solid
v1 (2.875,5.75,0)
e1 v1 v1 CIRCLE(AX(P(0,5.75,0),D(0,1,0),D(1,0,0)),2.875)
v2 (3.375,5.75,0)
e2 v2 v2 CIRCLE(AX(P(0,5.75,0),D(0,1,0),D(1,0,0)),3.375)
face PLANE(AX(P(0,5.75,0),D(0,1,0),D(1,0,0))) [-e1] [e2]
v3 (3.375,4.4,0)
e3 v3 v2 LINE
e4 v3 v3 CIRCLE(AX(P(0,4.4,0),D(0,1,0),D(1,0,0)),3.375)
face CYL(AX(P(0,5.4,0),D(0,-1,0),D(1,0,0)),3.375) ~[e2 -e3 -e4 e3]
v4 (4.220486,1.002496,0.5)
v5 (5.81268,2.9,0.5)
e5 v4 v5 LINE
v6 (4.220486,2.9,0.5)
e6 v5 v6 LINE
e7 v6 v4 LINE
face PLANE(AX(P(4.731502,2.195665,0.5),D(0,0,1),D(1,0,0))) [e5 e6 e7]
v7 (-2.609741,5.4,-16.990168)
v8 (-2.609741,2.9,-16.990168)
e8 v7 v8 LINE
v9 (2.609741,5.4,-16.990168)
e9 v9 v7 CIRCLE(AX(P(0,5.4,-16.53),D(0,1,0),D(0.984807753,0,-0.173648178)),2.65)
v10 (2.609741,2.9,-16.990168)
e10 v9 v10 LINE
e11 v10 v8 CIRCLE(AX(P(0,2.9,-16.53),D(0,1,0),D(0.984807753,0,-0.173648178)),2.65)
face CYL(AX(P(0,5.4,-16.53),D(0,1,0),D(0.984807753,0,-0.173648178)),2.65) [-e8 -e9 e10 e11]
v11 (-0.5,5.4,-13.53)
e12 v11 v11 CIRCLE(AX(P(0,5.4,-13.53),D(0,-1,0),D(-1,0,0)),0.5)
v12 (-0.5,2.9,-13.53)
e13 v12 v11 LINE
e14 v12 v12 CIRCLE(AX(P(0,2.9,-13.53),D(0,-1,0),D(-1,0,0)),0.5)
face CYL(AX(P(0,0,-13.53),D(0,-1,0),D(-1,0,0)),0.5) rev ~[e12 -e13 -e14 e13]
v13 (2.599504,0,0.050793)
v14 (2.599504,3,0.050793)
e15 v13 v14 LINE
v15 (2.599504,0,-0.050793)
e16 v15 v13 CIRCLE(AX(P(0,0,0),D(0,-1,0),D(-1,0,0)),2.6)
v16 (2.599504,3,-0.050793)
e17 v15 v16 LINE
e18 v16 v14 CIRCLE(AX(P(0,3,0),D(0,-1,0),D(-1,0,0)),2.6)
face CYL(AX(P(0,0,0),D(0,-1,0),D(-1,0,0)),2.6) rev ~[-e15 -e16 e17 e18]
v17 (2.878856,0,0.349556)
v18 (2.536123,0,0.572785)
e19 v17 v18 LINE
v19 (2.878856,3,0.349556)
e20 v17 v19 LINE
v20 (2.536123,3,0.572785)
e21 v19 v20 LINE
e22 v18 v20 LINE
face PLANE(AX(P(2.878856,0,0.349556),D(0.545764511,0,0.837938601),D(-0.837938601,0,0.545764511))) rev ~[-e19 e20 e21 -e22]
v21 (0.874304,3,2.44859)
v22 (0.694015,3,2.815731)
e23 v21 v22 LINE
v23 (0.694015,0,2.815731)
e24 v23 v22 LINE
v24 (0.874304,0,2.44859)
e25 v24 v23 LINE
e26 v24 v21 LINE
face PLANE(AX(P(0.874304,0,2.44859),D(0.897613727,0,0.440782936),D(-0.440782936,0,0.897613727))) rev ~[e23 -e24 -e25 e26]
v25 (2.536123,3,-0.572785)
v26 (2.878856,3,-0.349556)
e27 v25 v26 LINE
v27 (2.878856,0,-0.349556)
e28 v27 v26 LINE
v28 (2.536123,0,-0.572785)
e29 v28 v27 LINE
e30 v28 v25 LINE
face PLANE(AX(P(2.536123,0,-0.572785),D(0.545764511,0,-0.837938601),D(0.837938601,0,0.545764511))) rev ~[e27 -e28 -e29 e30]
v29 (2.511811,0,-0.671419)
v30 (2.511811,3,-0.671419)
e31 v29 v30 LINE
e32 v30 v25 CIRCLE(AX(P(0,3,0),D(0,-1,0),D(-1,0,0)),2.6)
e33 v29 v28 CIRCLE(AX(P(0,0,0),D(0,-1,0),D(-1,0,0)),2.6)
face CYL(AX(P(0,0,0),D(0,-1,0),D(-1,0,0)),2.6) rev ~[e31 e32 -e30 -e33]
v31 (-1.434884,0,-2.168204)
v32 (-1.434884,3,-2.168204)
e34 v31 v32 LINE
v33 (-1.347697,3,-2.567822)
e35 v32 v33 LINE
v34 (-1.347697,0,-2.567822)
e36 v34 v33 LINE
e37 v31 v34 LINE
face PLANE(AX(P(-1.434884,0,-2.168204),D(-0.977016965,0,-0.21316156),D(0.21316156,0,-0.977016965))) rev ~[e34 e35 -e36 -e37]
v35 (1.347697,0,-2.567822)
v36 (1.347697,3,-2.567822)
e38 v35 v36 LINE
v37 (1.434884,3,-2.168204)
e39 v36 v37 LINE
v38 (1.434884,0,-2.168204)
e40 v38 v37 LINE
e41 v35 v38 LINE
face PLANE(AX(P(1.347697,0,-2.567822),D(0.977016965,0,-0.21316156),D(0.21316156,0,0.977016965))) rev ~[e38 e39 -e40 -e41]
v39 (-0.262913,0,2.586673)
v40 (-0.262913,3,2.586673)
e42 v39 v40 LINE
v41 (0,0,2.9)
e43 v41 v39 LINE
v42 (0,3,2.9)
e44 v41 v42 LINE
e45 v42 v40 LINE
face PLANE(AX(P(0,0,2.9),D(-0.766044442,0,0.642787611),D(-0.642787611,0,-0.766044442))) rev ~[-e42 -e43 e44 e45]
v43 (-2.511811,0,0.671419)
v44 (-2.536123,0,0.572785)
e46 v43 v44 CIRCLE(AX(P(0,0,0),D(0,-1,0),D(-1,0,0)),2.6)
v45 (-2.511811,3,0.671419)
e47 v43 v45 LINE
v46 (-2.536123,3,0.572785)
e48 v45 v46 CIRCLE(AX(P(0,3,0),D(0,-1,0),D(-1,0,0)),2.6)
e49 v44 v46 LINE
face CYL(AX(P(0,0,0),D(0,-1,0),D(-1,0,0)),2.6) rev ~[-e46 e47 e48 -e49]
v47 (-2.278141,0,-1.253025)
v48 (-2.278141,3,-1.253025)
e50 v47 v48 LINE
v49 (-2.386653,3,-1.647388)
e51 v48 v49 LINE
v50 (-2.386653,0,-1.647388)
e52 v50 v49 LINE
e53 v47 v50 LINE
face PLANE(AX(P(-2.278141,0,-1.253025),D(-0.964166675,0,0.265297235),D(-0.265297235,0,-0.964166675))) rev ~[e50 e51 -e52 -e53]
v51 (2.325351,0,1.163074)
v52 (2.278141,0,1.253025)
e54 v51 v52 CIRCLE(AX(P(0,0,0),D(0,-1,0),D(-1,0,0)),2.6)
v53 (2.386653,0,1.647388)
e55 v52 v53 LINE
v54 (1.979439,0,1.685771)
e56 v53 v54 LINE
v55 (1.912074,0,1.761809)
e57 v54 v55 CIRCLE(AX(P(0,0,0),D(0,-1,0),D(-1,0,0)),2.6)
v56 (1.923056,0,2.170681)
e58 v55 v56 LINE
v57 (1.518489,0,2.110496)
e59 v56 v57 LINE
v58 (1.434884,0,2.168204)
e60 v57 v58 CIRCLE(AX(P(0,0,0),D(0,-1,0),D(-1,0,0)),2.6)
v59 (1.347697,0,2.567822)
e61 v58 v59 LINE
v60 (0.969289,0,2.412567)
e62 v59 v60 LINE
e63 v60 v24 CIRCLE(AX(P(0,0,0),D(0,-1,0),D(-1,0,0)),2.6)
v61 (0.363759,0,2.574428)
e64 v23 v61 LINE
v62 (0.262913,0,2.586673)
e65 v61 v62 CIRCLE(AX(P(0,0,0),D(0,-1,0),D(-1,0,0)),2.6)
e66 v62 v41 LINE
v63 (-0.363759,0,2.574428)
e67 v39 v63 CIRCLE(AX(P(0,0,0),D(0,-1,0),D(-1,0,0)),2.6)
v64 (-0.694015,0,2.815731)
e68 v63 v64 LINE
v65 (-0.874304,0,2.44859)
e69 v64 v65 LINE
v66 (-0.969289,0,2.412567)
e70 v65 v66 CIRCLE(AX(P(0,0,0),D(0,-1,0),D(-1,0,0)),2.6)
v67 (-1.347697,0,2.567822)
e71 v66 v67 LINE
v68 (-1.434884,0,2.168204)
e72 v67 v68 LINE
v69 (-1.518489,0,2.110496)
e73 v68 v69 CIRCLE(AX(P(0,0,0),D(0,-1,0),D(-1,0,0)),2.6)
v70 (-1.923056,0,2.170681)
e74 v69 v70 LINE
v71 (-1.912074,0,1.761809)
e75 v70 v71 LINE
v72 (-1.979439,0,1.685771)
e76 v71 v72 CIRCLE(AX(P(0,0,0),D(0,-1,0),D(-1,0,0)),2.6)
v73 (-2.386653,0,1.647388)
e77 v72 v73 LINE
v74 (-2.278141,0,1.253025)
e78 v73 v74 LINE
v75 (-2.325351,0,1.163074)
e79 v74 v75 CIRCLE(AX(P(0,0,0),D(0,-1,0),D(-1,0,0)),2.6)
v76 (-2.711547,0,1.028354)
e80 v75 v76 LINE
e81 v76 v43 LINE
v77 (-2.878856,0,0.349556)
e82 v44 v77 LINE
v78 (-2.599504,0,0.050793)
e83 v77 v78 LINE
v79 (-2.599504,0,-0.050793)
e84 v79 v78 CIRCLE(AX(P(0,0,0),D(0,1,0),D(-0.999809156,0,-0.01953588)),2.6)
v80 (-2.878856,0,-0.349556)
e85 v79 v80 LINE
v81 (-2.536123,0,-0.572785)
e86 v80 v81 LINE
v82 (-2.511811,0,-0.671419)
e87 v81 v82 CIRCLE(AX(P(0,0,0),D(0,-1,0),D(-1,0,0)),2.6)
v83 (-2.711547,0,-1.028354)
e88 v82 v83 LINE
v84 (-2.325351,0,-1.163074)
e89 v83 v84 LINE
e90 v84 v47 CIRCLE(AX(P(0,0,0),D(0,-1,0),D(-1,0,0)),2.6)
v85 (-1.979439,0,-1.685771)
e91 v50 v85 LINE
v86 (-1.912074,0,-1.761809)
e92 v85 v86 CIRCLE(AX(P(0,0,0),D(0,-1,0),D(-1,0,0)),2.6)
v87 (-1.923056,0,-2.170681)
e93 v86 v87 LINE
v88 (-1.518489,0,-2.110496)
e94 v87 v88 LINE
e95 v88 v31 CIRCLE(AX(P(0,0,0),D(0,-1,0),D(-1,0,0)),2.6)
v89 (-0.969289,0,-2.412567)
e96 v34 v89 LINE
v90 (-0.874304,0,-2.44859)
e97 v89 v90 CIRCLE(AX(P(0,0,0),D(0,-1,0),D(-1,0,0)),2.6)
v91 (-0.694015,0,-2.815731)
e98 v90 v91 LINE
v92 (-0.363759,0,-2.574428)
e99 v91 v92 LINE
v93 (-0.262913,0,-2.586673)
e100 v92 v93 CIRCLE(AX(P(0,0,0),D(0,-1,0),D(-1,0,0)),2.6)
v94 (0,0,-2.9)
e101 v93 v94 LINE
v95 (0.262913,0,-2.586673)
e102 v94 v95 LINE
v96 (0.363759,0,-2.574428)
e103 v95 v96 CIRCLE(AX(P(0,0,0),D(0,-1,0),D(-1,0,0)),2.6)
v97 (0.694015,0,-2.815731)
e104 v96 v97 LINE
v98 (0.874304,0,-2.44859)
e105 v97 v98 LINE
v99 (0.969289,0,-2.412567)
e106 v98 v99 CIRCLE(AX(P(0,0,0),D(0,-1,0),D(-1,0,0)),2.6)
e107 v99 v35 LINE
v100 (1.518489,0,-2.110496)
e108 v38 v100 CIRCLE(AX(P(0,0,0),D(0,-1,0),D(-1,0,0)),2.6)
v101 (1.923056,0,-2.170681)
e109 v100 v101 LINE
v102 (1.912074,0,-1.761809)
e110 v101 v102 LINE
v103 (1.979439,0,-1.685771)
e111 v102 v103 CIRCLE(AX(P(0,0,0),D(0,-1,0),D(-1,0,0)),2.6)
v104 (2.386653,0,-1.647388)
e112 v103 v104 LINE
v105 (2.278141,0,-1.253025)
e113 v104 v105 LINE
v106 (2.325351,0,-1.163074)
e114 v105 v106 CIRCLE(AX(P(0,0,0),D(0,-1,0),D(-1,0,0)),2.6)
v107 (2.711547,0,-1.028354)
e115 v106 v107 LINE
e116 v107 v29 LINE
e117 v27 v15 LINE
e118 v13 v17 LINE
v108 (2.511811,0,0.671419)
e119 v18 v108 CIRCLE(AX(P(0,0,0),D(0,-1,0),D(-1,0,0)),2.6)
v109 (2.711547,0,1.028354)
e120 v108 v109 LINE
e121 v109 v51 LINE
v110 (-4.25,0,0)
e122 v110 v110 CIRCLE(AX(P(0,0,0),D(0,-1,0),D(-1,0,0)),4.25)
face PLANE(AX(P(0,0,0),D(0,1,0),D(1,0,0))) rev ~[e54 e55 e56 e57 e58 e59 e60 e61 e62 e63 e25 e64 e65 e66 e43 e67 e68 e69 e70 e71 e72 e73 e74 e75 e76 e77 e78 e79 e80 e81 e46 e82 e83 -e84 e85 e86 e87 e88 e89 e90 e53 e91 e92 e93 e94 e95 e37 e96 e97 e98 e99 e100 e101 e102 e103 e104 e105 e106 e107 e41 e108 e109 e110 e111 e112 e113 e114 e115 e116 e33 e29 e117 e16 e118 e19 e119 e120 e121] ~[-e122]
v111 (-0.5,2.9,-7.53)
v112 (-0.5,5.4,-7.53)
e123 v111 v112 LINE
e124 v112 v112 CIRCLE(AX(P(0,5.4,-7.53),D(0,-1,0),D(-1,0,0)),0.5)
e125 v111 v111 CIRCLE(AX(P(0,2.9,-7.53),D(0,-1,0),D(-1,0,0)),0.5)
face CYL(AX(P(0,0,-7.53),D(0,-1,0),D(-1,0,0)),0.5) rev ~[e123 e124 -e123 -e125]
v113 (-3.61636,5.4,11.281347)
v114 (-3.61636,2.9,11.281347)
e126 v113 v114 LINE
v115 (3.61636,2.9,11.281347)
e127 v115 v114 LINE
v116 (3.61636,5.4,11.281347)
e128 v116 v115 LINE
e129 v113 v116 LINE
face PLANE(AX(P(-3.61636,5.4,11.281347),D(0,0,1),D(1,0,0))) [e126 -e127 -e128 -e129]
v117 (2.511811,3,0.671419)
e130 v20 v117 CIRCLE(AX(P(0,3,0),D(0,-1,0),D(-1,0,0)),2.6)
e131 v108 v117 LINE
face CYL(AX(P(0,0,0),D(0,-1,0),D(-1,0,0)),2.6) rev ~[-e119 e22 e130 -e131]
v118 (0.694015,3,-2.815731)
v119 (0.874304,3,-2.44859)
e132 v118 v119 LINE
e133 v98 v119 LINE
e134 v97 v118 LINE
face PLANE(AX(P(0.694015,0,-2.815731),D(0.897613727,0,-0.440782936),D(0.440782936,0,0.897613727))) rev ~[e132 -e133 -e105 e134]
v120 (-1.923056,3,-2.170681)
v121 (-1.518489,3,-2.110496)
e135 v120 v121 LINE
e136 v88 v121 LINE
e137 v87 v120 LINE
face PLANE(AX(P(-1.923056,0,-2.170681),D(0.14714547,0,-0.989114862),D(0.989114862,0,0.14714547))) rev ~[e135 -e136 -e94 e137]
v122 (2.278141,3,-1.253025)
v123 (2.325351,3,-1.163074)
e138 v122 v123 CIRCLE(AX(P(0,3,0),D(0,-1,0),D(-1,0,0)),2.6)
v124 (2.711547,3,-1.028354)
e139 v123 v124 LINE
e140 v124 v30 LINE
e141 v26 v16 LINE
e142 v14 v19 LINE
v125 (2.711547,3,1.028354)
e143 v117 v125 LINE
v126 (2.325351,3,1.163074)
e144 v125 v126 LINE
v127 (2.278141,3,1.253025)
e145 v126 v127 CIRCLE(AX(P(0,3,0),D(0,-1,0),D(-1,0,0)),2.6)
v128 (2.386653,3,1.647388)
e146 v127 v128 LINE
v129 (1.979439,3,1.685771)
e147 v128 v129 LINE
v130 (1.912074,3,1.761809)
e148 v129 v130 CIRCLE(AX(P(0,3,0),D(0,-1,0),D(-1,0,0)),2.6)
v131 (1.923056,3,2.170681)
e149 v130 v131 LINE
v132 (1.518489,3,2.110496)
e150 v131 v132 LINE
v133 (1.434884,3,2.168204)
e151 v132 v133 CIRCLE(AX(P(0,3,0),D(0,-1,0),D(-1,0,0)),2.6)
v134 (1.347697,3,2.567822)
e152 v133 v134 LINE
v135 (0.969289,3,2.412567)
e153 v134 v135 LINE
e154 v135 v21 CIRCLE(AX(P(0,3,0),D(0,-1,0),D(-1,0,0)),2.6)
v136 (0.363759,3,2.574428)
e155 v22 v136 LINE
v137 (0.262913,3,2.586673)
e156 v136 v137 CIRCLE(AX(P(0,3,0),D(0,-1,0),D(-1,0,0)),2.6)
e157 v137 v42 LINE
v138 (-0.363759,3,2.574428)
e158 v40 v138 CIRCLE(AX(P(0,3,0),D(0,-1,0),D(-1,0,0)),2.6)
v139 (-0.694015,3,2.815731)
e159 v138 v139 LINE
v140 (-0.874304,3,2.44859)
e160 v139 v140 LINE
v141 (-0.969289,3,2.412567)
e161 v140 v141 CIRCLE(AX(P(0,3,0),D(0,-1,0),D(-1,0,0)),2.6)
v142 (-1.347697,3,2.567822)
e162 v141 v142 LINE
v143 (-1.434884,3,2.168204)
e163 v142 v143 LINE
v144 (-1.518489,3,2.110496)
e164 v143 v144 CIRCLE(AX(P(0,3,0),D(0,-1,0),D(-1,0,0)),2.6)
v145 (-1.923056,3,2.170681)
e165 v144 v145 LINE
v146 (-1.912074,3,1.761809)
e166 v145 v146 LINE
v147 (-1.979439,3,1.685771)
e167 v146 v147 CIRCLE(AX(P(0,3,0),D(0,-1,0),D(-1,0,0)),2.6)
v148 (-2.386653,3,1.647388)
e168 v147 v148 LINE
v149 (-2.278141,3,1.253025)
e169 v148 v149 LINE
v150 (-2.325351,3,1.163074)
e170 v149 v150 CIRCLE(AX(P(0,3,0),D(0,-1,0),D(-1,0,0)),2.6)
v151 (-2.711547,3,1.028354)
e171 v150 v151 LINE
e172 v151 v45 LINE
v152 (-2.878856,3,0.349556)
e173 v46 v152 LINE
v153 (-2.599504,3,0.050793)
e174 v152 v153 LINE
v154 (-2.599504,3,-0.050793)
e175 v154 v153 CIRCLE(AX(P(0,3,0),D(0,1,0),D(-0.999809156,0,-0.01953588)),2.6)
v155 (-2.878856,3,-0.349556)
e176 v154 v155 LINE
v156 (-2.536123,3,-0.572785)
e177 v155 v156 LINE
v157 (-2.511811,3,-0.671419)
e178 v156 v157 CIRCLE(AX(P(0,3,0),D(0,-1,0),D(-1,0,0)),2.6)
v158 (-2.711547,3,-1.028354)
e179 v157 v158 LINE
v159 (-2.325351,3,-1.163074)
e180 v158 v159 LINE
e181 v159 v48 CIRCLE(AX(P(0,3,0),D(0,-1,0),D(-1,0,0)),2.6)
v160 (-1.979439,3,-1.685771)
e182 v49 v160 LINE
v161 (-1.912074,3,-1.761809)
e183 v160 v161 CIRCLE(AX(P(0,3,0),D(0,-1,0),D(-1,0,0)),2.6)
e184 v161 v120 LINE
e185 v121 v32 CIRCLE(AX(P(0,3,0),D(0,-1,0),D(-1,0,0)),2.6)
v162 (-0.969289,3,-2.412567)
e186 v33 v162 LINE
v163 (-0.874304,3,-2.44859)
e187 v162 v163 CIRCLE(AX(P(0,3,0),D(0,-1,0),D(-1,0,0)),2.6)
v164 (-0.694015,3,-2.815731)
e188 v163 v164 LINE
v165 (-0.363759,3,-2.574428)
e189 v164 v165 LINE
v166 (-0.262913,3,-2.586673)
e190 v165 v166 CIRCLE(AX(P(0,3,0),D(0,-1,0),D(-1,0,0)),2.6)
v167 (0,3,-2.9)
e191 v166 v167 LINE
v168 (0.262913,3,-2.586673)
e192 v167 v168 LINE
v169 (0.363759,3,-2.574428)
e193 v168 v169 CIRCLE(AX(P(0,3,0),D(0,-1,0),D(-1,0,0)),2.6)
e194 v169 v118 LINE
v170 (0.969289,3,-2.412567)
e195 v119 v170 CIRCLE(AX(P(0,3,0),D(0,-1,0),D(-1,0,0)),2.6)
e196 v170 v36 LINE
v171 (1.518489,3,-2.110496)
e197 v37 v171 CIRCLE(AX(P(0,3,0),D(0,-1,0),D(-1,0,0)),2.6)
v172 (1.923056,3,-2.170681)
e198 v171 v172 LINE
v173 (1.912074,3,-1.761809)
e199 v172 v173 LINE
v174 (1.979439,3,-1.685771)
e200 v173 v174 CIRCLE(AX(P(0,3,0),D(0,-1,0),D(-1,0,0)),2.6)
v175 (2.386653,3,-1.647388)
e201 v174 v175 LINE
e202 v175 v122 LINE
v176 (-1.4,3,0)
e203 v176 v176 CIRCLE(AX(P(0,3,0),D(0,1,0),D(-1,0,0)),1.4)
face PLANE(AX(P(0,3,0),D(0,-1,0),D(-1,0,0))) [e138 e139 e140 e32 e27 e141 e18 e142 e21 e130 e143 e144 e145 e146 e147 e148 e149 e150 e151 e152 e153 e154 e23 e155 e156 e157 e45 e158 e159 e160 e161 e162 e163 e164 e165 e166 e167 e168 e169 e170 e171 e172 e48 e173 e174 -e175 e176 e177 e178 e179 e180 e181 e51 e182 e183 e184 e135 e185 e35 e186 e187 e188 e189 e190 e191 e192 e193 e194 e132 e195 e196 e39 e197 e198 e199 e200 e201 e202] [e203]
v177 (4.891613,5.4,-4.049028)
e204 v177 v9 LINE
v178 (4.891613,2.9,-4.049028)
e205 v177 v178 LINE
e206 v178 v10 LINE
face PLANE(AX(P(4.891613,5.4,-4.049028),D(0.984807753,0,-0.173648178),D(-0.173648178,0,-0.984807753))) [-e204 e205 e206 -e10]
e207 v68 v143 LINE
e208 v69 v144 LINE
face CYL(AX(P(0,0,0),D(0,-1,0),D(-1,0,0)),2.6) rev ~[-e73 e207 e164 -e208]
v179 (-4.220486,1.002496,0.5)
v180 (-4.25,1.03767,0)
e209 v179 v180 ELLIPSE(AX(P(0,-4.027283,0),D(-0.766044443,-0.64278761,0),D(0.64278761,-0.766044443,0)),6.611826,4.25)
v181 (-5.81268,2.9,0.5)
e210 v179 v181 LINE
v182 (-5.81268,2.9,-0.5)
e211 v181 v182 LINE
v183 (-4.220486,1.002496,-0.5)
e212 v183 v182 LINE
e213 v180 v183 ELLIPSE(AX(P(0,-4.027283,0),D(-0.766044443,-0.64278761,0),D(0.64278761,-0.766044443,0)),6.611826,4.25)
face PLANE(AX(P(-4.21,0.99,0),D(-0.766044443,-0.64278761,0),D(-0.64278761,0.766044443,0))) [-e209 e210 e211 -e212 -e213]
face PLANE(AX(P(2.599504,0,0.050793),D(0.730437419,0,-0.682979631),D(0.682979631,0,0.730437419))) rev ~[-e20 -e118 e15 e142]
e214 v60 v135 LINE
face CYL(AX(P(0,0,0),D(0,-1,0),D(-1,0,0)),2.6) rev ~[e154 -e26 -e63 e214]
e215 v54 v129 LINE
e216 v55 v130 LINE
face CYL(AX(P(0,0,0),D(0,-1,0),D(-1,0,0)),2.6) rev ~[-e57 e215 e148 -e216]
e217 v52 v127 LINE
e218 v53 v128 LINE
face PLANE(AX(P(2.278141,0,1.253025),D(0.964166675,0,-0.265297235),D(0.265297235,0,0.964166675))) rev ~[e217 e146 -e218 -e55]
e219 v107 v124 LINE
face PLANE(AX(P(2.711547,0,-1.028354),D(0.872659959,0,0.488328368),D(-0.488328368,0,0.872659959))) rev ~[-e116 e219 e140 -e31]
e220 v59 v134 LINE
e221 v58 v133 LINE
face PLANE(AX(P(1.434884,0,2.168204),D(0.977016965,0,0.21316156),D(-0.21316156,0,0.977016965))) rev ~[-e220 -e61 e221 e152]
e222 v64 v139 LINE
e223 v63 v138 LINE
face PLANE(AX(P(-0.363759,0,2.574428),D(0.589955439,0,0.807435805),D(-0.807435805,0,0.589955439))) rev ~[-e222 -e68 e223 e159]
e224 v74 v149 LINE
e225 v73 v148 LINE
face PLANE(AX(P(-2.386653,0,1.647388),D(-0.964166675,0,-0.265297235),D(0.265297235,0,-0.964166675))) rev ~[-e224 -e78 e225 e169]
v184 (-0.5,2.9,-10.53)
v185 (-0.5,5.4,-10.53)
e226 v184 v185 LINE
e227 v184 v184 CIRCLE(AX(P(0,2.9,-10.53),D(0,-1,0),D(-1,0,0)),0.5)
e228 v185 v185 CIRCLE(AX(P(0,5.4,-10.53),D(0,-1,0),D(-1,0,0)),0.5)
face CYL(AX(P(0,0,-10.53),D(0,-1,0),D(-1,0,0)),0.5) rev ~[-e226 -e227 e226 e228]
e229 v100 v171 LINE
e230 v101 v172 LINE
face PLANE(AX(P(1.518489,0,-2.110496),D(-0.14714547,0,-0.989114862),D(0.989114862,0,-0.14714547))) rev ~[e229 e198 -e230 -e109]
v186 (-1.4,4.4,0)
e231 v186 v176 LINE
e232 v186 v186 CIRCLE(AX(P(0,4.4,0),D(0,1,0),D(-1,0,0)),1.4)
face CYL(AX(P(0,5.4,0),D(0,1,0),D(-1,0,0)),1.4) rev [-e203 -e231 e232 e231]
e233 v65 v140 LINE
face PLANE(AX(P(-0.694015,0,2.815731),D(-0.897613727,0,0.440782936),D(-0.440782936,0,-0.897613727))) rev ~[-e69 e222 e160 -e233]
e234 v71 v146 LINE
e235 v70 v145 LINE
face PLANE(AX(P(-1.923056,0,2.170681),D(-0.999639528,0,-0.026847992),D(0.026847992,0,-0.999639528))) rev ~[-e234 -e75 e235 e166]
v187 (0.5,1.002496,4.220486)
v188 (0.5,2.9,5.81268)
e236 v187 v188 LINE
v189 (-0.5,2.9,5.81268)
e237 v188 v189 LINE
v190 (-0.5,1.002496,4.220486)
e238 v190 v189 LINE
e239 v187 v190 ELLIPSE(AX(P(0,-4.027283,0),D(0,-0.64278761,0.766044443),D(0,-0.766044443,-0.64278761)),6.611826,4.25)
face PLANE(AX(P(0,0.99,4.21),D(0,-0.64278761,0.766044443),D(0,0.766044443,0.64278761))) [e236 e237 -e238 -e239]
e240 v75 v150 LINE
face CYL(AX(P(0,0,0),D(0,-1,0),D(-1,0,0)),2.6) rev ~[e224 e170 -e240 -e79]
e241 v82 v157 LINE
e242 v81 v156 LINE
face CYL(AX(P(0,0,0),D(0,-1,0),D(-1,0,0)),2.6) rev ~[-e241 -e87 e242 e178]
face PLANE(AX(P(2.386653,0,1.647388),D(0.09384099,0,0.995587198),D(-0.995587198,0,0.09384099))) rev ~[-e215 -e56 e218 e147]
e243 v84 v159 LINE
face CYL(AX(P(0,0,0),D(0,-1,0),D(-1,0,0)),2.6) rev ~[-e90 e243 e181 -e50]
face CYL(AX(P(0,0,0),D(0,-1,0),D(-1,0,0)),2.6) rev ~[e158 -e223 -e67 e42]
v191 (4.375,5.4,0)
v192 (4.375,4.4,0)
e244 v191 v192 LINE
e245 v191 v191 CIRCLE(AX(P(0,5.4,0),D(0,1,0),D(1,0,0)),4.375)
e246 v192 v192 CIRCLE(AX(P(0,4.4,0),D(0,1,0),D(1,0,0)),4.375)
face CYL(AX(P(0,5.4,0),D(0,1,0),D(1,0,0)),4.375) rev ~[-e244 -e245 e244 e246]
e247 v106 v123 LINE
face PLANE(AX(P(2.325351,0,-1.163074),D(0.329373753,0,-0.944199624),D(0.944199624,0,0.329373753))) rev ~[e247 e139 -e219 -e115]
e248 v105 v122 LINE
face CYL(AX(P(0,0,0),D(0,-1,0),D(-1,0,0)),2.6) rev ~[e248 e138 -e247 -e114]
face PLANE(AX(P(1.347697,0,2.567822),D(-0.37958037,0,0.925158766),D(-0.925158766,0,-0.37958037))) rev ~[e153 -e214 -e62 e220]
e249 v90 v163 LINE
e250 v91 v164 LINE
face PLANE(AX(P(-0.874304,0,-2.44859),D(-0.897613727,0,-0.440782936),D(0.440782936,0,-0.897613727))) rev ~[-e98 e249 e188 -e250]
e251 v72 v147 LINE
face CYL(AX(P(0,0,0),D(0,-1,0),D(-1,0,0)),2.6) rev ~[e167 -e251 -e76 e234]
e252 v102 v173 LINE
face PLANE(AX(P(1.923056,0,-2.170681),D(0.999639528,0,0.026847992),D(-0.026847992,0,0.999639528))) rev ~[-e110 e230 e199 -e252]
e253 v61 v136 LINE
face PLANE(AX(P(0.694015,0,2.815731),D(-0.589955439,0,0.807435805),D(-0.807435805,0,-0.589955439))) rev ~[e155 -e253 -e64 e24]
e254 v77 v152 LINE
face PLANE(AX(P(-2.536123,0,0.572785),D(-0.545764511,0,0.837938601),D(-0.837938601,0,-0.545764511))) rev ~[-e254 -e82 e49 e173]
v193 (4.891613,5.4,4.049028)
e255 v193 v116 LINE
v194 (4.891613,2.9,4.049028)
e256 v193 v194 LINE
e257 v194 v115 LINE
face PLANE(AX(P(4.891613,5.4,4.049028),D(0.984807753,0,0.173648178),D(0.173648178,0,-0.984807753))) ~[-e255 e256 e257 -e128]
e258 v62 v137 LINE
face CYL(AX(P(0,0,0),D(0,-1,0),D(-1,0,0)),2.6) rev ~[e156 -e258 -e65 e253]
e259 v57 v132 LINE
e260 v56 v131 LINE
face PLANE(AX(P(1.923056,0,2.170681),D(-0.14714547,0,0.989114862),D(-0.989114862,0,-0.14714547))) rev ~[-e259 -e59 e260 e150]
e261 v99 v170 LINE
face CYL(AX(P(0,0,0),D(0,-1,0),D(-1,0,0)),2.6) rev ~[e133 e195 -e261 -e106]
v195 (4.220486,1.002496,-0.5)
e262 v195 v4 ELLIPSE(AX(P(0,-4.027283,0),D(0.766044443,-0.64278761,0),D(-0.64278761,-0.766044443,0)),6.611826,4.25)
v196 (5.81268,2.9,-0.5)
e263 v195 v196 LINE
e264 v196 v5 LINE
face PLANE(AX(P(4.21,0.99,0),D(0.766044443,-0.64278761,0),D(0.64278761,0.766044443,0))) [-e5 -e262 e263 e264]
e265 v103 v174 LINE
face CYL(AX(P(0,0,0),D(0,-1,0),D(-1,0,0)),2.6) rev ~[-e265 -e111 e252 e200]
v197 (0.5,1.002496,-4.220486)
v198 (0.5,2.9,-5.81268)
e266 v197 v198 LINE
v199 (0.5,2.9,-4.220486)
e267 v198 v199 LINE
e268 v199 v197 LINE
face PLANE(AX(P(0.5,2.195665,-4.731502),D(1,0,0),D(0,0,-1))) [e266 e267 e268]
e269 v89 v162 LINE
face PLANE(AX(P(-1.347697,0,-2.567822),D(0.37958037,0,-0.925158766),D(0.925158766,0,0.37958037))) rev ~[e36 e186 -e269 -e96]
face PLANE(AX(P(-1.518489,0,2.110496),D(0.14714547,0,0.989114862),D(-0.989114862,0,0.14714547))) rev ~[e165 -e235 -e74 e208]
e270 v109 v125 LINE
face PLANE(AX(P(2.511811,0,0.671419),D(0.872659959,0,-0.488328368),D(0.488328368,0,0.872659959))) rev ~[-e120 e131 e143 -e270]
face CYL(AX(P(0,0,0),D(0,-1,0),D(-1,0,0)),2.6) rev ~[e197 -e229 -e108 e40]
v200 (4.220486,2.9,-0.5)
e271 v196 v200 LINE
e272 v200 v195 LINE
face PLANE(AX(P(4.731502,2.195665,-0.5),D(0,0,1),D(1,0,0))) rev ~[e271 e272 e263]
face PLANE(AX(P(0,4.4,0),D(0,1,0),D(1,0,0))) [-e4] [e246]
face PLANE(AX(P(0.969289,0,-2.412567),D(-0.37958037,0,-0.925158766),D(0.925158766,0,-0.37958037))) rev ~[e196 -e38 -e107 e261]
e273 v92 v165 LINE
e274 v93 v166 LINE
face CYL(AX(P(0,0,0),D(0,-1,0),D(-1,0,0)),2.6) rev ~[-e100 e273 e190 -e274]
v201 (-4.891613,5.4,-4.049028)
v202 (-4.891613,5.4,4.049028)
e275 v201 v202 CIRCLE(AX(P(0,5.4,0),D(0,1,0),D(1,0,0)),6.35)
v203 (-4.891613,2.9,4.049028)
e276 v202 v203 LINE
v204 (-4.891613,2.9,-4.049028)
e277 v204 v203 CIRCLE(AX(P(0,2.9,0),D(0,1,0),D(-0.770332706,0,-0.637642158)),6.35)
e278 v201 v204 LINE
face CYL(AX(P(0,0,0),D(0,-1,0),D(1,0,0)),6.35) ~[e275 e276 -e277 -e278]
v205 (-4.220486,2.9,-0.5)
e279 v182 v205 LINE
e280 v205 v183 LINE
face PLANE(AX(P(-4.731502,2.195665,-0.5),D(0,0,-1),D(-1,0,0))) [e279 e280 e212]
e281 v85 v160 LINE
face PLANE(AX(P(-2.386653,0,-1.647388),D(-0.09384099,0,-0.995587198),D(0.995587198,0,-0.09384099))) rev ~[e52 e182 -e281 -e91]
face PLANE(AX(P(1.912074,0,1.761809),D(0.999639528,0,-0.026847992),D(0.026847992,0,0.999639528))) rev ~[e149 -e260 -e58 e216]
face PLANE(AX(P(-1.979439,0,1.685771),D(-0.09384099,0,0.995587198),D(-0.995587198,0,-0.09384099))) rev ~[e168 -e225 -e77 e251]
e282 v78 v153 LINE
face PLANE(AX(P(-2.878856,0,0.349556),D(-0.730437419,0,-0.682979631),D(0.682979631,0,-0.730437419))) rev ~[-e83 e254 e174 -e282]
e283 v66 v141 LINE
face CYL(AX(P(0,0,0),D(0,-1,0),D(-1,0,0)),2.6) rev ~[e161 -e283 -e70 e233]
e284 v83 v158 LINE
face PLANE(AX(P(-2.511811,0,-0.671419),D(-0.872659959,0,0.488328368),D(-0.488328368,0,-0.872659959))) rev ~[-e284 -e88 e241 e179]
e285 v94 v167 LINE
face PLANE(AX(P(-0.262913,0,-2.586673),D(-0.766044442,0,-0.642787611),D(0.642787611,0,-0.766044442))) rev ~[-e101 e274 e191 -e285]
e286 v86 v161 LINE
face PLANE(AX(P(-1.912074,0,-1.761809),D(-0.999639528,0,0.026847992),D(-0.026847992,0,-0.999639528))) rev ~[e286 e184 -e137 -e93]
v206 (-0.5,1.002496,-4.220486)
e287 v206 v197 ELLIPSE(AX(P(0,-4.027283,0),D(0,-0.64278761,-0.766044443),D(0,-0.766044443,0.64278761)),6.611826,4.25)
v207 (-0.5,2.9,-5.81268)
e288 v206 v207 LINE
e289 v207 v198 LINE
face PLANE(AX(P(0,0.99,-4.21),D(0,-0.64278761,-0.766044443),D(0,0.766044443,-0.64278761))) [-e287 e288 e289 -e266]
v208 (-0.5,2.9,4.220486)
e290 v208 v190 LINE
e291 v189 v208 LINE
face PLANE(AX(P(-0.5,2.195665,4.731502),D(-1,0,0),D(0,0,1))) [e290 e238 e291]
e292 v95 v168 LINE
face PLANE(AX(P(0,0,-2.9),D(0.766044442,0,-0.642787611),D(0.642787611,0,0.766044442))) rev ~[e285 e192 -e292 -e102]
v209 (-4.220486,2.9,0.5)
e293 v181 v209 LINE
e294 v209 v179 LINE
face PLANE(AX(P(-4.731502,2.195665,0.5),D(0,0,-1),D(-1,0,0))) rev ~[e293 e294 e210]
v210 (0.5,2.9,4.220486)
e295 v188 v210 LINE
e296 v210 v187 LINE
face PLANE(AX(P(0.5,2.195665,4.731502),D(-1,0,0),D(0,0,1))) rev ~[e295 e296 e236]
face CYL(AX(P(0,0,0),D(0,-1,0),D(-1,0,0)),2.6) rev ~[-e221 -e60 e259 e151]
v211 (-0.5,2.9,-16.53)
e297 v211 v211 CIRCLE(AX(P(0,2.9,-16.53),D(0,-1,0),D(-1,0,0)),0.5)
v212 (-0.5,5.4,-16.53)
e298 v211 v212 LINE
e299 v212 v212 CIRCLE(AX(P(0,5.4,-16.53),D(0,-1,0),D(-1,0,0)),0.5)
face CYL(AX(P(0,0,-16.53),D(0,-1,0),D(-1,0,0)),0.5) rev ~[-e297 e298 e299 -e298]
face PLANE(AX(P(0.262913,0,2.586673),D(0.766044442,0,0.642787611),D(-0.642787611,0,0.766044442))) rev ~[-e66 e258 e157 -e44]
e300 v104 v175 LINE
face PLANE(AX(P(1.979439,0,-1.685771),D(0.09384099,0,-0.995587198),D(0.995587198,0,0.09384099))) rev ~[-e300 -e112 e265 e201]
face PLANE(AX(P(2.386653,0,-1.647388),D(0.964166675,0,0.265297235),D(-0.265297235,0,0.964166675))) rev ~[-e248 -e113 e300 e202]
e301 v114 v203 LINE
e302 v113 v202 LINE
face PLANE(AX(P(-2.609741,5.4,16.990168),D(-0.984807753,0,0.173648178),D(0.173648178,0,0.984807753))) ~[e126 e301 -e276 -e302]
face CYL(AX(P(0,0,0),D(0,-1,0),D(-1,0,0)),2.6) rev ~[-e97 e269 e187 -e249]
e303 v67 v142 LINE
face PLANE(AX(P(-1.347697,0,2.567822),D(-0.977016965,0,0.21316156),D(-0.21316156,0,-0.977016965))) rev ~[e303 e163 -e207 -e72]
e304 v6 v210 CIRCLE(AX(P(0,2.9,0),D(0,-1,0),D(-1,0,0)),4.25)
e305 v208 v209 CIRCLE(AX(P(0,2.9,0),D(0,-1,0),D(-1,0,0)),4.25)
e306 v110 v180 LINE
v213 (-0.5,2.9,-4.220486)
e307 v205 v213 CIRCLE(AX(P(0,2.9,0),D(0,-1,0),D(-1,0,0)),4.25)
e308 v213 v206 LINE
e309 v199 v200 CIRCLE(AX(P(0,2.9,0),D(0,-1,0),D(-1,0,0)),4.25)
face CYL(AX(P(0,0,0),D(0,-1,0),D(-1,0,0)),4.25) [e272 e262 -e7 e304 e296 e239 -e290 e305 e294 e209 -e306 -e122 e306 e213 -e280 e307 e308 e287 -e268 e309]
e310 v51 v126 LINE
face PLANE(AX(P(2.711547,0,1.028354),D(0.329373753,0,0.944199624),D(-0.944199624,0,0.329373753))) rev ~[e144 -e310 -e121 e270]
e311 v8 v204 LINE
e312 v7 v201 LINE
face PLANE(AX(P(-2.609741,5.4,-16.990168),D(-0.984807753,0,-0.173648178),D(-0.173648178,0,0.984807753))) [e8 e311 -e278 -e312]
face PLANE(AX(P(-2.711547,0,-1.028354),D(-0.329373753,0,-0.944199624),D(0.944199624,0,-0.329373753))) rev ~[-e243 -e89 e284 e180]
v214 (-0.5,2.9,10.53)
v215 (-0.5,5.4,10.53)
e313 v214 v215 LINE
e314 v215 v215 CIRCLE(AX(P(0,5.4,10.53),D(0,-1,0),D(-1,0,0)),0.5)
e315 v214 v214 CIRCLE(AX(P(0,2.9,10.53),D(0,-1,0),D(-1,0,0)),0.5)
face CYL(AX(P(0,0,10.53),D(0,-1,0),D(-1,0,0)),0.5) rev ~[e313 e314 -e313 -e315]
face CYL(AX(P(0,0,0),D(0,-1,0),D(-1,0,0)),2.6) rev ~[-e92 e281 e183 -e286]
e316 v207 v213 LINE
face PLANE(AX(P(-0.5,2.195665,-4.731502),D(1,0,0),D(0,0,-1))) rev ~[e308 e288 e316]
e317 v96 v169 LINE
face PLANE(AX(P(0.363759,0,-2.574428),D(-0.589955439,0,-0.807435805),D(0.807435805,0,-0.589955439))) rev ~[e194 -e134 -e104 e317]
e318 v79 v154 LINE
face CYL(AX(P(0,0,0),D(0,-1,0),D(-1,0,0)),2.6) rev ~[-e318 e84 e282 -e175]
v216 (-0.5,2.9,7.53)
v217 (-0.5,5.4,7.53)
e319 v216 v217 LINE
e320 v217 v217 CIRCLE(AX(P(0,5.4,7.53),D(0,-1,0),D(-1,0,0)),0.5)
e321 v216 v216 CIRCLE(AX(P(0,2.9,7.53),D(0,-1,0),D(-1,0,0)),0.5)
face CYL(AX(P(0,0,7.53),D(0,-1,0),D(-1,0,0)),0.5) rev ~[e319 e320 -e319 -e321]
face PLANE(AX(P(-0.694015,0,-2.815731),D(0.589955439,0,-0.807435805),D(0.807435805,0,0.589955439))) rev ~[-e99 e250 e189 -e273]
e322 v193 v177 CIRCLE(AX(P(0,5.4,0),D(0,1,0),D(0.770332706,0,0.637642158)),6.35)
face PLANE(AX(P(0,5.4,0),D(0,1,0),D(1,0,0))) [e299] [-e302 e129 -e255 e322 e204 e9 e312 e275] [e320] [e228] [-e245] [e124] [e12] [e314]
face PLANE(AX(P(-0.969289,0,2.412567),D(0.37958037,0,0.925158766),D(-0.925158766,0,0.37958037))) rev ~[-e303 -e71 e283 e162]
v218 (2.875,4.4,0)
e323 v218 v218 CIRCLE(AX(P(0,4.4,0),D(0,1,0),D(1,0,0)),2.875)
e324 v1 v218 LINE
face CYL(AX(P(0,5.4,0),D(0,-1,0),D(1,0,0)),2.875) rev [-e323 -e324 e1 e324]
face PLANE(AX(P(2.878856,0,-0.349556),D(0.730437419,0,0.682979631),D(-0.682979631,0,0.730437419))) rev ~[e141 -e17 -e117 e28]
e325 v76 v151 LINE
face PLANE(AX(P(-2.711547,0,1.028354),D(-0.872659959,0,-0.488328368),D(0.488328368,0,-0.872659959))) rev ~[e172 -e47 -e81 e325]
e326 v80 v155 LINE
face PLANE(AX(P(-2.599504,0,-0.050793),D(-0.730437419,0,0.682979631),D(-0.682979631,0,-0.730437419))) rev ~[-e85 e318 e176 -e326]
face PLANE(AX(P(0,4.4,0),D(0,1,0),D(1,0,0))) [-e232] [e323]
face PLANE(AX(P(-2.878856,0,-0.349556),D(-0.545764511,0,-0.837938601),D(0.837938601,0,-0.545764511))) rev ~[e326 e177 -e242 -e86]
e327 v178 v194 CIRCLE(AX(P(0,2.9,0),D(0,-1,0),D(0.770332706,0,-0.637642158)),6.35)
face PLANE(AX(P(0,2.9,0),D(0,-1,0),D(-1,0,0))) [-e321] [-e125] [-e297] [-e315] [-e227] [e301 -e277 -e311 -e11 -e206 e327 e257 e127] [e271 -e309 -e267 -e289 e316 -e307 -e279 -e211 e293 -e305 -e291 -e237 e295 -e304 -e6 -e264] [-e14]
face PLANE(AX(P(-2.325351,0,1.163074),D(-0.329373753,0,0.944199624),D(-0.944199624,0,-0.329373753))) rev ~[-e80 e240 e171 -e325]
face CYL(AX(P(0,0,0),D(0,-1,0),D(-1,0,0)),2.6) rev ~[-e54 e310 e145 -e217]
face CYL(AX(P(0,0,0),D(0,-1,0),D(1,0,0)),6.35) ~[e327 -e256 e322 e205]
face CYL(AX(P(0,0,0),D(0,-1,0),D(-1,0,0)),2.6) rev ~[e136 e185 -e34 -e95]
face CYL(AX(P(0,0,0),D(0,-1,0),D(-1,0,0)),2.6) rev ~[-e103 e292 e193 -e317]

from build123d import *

# Parameters (mm, degrees)
SKETCH1_R               = 6.35
BOSS_EXTRUDE1_DEPTH     = 5.4
HORN_DEPTH              = 2.5
SKETCH4_R               = 1.4
CUT_EXTRUDE1_DEPTH      = 6.4
SKETCH5_R               = 0.5
CUT_EXTRUDE2_DEPTH      = 6.4
LPATTERN1_COUNT         = 4
LPATTERN1_PITCH         = 3
MIRROR1_COPY_1_SKETCH_R = 0.5
MIRROR1_COPY_1_DEPTH    = 6.4
MIRROR1_COPY_2_SKETCH_R = 0.5
MIRROR1_COPY_2_DEPTH    = 6.4
MIRROR1_COPY_3_SKETCH_R = 0.5
MIRROR1_COPY_3_DEPTH    = 6.4
CUT_EXTRUDE4_DEPTH      = 3
CIRPATTERN2_COUNT       = 26
SKETCH9_R               = 2.6
CUT_EXTRUDE5_DEPTH      = 3
SKETCH10_R              = 6.35
SKETCH10_R_2            = 4.25
CUT_EXTRUDE6_DEPTH      = 2.9
BOSS_EXTRUDE5_DEPTH     = 0.5
CIRPATTERN3_COUNT       = 4
SKETCH12_R              = 4.375
CUT_EXTRUDE7_DEPTH      = 1
SKETCH13_R              = 3.375
SKETCH13_R_2            = 2.875
BOSS_EXTRUDE6_DEPTH     = 1
SKETCH14_R              = 3.375
SKETCH14_R_2            = 2.875
BOSS_EXTRUDE7_DEPTH     = 0.35
CUT_EXTRUDE8_DEPTH      = 6.4


with BuildPart() as part:
    # Sketch1 → Boss-Extrude1 (new body)
    with BuildSketch(Plane(origin=(0, 0, 0), x_dir=(1, 0, 0), z_dir=(0, 1, 0))):
        Circle(SKETCH1_R)
    extrude(amount=BOSS_EXTRUDE1_DEPTH)

    # Sketch2 → horn (add)
    with BuildSketch(Plane(origin=(0, 5.4, 0), x_dir=(1, 0, 0), z_dir=(0, 1, 0))):
        with BuildLine():
            Line((-2.609740545, 16.990167671), (-4.891612682, 4.049027706))
            ThreePointArc((-4.891612682, 4.049027706), (0, 6.35), (4.891612682, 4.049027706))
            Line((4.891612682, 4.049027706), (2.609740545, 16.990167671))
            ThreePointArc((2.609740545, 16.990167671), (0, 19.18), (-2.609740545, 16.990167671))
        make_face()
    horn = extrude(amount=-HORN_DEPTH)

    # Sketch4 → Cut-Extrude1 (cut, through all)
    with BuildSketch(Plane(origin=(0, 5.4, 0), x_dir=(-1, 0, 0), z_dir=(0, -1, 0))):
        Circle(SKETCH4_R)
    extrude(amount=CUT_EXTRUDE1_DEPTH, mode=Mode.SUBTRACT)

    # Sketch5 → Cut-Extrude2 (cut, through all)
    with BuildSketch(Plane(origin=(0, 0, 0), x_dir=(-1, 0, 0), z_dir=(0, -1, 0))):
        with Locations((0, 16.53)):
            Circle(SKETCH5_R)
    cut_extrude2 = extrude(amount=-CUT_EXTRUDE2_DEPTH, mode=Mode.SUBTRACT)

    # LPattern1: Cut-Extrude2 ×4
    with Locations(*[(0, 0, i * LPATTERN1_PITCH) for i in range(1, LPATTERN1_COUNT)]):
        add(cut_extrude2, mode=Mode.SUBTRACT)

    # Mirror1: horn, Cut-Extrude2 across plane
    add(horn.mirror(Plane.XY))
    add(cut_extrude2.mirror(Plane.XY), mode=Mode.SUBTRACT)

    # Mirror1 copy 1 sketch → Mirror1 copy 1 (cut, through all)
    with BuildSketch(Plane(origin=(0, 0, -3), x_dir=(-1, 0, 0), z_dir=(0, -1, 0))):
        with Locations((0, -16.53)):
            Circle(MIRROR1_COPY_1_SKETCH_R)
    extrude(amount=-MIRROR1_COPY_1_DEPTH, mode=Mode.SUBTRACT)

    # Mirror1 copy 2 sketch → Mirror1 copy 2 (cut, through all)
    with BuildSketch(Plane(origin=(0, 0, -6), x_dir=(-1, 0, 0), z_dir=(0, -1, 0))):
        with Locations((0, -16.53)):
            Circle(MIRROR1_COPY_2_SKETCH_R)
    extrude(amount=-MIRROR1_COPY_2_DEPTH, mode=Mode.SUBTRACT)

    # Mirror1 copy 3 sketch → Mirror1 copy 3 (cut, through all)
    with BuildSketch(Plane(origin=(0, 0, -9), x_dir=(-1, 0, 0), z_dir=(0, -1, 0))):
        with Locations((0, -16.53)):
            Circle(MIRROR1_COPY_3_SKETCH_R)
    extrude(amount=-MIRROR1_COPY_3_DEPTH, mode=Mode.SUBTRACT)

    # Sketch8 → Cut-Extrude4 (cut)
    with BuildSketch(Plane(origin=(0, 0, 0), x_dir=(-1, 0, 0), z_dir=(0, -1, 0))):
        with BuildLine():
            Line((0, -2.9), (0.262912611, -2.586672952))
            ThreePointArc((0.262912611, -2.586672952), (0, -2.6), (-0.262912611, -2.586672952))
            Line((-0.262912611, -2.586672952), (0, -2.9))
        make_face()
    cut_extrude4 = extrude(amount=-CUT_EXTRUDE4_DEPTH, mode=Mode.SUBTRACT)

    # CirPattern2: Cut-Extrude4 ×26 about axis
    cirpattern2_axis = Axis((0, 0, 0), (0, 1, 0))
    for i in range(1, CIRPATTERN2_COUNT):
        add(cut_extrude4.rotate(cirpattern2_axis, i * 360 / CIRPATTERN2_COUNT), mode=Mode.SUBTRACT)

    # Sketch9 → Cut-Extrude5 (cut)
    with BuildSketch(Plane(origin=(0, 0, 0), x_dir=(-1, 0, 0), z_dir=(0, -1, 0))):
        Circle(SKETCH9_R)
    extrude(amount=-CUT_EXTRUDE5_DEPTH, mode=Mode.SUBTRACT)

    # Sketch10 → Cut-Extrude6 (cut)
    with BuildSketch(Plane(origin=(0, 0, 0), x_dir=(-1, 0, 0), z_dir=(0, -1, 0))):
        Circle(SKETCH10_R)
        Circle(SKETCH10_R_2, mode=Mode.SUBTRACT)
    extrude(amount=-CUT_EXTRUDE6_DEPTH, mode=Mode.SUBTRACT)

    # Sketch11 → Boss-Extrude5 (add, symmetric)
    with BuildSketch(Plane.XY):
        Polygon((4.21, 0.99), (5.812680296, 2.9), (4.21, 2.9), (4.16, 2.9), (4.16, 0.99), align=None)
    boss_extrude5 = extrude(amount=BOSS_EXTRUDE5_DEPTH, both=True)

    # CirPattern3: Boss-Extrude5 ×4 about axis
    cirpattern3_axis = Axis((0, 0, 0), (0, 1, 0))
    for i in range(1, CIRPATTERN3_COUNT):
        add(boss_extrude5.rotate(cirpattern3_axis, i * 360 / CIRPATTERN3_COUNT))

    # Sketch12 → Cut-Extrude7 (cut)
    with BuildSketch(Plane(origin=(0, 5.4, 0), x_dir=(1, 0, 0), z_dir=(0, 1, 0))):
        Circle(SKETCH12_R)
    extrude(amount=-CUT_EXTRUDE7_DEPTH, mode=Mode.SUBTRACT)

    # Sketch13 → Boss-Extrude6 (add)
    with BuildSketch(Plane(origin=(0, 4.4, 0), x_dir=(1, 0, 0), z_dir=(0, 1, 0))):
        Circle(SKETCH13_R)
        Circle(SKETCH13_R_2, mode=Mode.SUBTRACT)
    extrude(amount=BOSS_EXTRUDE6_DEPTH)

    # Sketch14 → Boss-Extrude7 (add)
    with BuildSketch(Plane(origin=(0, 5.4, 0), x_dir=(1, 0, 0), z_dir=(0, 1, 0))):
        Circle(SKETCH14_R)
        Circle(SKETCH14_R_2, mode=Mode.SUBTRACT)
    extrude(amount=BOSS_EXTRUDE7_DEPTH)

    # Sketch15 → Cut-Extrude8 (cut, through all)
    with BuildSketch(Plane(origin=(0, 5.4, 0), x_dir=(1, 0, 0), z_dir=(0, 1, 0))):
        Polygon((-3.616359732, -11.281346581), (3.616359732, -11.281346581), (9.32149419, -16.388605274), (4.660747095, -20.846711191), (-5.775273574, -20.846711191), (-10.680070262, -15.7189692), (-9.733647563, -14.813695314), align=None)
    extrude(amount=-CUT_EXTRUDE8_DEPTH, mode=Mode.SUBTRACT)


solid = part.part
